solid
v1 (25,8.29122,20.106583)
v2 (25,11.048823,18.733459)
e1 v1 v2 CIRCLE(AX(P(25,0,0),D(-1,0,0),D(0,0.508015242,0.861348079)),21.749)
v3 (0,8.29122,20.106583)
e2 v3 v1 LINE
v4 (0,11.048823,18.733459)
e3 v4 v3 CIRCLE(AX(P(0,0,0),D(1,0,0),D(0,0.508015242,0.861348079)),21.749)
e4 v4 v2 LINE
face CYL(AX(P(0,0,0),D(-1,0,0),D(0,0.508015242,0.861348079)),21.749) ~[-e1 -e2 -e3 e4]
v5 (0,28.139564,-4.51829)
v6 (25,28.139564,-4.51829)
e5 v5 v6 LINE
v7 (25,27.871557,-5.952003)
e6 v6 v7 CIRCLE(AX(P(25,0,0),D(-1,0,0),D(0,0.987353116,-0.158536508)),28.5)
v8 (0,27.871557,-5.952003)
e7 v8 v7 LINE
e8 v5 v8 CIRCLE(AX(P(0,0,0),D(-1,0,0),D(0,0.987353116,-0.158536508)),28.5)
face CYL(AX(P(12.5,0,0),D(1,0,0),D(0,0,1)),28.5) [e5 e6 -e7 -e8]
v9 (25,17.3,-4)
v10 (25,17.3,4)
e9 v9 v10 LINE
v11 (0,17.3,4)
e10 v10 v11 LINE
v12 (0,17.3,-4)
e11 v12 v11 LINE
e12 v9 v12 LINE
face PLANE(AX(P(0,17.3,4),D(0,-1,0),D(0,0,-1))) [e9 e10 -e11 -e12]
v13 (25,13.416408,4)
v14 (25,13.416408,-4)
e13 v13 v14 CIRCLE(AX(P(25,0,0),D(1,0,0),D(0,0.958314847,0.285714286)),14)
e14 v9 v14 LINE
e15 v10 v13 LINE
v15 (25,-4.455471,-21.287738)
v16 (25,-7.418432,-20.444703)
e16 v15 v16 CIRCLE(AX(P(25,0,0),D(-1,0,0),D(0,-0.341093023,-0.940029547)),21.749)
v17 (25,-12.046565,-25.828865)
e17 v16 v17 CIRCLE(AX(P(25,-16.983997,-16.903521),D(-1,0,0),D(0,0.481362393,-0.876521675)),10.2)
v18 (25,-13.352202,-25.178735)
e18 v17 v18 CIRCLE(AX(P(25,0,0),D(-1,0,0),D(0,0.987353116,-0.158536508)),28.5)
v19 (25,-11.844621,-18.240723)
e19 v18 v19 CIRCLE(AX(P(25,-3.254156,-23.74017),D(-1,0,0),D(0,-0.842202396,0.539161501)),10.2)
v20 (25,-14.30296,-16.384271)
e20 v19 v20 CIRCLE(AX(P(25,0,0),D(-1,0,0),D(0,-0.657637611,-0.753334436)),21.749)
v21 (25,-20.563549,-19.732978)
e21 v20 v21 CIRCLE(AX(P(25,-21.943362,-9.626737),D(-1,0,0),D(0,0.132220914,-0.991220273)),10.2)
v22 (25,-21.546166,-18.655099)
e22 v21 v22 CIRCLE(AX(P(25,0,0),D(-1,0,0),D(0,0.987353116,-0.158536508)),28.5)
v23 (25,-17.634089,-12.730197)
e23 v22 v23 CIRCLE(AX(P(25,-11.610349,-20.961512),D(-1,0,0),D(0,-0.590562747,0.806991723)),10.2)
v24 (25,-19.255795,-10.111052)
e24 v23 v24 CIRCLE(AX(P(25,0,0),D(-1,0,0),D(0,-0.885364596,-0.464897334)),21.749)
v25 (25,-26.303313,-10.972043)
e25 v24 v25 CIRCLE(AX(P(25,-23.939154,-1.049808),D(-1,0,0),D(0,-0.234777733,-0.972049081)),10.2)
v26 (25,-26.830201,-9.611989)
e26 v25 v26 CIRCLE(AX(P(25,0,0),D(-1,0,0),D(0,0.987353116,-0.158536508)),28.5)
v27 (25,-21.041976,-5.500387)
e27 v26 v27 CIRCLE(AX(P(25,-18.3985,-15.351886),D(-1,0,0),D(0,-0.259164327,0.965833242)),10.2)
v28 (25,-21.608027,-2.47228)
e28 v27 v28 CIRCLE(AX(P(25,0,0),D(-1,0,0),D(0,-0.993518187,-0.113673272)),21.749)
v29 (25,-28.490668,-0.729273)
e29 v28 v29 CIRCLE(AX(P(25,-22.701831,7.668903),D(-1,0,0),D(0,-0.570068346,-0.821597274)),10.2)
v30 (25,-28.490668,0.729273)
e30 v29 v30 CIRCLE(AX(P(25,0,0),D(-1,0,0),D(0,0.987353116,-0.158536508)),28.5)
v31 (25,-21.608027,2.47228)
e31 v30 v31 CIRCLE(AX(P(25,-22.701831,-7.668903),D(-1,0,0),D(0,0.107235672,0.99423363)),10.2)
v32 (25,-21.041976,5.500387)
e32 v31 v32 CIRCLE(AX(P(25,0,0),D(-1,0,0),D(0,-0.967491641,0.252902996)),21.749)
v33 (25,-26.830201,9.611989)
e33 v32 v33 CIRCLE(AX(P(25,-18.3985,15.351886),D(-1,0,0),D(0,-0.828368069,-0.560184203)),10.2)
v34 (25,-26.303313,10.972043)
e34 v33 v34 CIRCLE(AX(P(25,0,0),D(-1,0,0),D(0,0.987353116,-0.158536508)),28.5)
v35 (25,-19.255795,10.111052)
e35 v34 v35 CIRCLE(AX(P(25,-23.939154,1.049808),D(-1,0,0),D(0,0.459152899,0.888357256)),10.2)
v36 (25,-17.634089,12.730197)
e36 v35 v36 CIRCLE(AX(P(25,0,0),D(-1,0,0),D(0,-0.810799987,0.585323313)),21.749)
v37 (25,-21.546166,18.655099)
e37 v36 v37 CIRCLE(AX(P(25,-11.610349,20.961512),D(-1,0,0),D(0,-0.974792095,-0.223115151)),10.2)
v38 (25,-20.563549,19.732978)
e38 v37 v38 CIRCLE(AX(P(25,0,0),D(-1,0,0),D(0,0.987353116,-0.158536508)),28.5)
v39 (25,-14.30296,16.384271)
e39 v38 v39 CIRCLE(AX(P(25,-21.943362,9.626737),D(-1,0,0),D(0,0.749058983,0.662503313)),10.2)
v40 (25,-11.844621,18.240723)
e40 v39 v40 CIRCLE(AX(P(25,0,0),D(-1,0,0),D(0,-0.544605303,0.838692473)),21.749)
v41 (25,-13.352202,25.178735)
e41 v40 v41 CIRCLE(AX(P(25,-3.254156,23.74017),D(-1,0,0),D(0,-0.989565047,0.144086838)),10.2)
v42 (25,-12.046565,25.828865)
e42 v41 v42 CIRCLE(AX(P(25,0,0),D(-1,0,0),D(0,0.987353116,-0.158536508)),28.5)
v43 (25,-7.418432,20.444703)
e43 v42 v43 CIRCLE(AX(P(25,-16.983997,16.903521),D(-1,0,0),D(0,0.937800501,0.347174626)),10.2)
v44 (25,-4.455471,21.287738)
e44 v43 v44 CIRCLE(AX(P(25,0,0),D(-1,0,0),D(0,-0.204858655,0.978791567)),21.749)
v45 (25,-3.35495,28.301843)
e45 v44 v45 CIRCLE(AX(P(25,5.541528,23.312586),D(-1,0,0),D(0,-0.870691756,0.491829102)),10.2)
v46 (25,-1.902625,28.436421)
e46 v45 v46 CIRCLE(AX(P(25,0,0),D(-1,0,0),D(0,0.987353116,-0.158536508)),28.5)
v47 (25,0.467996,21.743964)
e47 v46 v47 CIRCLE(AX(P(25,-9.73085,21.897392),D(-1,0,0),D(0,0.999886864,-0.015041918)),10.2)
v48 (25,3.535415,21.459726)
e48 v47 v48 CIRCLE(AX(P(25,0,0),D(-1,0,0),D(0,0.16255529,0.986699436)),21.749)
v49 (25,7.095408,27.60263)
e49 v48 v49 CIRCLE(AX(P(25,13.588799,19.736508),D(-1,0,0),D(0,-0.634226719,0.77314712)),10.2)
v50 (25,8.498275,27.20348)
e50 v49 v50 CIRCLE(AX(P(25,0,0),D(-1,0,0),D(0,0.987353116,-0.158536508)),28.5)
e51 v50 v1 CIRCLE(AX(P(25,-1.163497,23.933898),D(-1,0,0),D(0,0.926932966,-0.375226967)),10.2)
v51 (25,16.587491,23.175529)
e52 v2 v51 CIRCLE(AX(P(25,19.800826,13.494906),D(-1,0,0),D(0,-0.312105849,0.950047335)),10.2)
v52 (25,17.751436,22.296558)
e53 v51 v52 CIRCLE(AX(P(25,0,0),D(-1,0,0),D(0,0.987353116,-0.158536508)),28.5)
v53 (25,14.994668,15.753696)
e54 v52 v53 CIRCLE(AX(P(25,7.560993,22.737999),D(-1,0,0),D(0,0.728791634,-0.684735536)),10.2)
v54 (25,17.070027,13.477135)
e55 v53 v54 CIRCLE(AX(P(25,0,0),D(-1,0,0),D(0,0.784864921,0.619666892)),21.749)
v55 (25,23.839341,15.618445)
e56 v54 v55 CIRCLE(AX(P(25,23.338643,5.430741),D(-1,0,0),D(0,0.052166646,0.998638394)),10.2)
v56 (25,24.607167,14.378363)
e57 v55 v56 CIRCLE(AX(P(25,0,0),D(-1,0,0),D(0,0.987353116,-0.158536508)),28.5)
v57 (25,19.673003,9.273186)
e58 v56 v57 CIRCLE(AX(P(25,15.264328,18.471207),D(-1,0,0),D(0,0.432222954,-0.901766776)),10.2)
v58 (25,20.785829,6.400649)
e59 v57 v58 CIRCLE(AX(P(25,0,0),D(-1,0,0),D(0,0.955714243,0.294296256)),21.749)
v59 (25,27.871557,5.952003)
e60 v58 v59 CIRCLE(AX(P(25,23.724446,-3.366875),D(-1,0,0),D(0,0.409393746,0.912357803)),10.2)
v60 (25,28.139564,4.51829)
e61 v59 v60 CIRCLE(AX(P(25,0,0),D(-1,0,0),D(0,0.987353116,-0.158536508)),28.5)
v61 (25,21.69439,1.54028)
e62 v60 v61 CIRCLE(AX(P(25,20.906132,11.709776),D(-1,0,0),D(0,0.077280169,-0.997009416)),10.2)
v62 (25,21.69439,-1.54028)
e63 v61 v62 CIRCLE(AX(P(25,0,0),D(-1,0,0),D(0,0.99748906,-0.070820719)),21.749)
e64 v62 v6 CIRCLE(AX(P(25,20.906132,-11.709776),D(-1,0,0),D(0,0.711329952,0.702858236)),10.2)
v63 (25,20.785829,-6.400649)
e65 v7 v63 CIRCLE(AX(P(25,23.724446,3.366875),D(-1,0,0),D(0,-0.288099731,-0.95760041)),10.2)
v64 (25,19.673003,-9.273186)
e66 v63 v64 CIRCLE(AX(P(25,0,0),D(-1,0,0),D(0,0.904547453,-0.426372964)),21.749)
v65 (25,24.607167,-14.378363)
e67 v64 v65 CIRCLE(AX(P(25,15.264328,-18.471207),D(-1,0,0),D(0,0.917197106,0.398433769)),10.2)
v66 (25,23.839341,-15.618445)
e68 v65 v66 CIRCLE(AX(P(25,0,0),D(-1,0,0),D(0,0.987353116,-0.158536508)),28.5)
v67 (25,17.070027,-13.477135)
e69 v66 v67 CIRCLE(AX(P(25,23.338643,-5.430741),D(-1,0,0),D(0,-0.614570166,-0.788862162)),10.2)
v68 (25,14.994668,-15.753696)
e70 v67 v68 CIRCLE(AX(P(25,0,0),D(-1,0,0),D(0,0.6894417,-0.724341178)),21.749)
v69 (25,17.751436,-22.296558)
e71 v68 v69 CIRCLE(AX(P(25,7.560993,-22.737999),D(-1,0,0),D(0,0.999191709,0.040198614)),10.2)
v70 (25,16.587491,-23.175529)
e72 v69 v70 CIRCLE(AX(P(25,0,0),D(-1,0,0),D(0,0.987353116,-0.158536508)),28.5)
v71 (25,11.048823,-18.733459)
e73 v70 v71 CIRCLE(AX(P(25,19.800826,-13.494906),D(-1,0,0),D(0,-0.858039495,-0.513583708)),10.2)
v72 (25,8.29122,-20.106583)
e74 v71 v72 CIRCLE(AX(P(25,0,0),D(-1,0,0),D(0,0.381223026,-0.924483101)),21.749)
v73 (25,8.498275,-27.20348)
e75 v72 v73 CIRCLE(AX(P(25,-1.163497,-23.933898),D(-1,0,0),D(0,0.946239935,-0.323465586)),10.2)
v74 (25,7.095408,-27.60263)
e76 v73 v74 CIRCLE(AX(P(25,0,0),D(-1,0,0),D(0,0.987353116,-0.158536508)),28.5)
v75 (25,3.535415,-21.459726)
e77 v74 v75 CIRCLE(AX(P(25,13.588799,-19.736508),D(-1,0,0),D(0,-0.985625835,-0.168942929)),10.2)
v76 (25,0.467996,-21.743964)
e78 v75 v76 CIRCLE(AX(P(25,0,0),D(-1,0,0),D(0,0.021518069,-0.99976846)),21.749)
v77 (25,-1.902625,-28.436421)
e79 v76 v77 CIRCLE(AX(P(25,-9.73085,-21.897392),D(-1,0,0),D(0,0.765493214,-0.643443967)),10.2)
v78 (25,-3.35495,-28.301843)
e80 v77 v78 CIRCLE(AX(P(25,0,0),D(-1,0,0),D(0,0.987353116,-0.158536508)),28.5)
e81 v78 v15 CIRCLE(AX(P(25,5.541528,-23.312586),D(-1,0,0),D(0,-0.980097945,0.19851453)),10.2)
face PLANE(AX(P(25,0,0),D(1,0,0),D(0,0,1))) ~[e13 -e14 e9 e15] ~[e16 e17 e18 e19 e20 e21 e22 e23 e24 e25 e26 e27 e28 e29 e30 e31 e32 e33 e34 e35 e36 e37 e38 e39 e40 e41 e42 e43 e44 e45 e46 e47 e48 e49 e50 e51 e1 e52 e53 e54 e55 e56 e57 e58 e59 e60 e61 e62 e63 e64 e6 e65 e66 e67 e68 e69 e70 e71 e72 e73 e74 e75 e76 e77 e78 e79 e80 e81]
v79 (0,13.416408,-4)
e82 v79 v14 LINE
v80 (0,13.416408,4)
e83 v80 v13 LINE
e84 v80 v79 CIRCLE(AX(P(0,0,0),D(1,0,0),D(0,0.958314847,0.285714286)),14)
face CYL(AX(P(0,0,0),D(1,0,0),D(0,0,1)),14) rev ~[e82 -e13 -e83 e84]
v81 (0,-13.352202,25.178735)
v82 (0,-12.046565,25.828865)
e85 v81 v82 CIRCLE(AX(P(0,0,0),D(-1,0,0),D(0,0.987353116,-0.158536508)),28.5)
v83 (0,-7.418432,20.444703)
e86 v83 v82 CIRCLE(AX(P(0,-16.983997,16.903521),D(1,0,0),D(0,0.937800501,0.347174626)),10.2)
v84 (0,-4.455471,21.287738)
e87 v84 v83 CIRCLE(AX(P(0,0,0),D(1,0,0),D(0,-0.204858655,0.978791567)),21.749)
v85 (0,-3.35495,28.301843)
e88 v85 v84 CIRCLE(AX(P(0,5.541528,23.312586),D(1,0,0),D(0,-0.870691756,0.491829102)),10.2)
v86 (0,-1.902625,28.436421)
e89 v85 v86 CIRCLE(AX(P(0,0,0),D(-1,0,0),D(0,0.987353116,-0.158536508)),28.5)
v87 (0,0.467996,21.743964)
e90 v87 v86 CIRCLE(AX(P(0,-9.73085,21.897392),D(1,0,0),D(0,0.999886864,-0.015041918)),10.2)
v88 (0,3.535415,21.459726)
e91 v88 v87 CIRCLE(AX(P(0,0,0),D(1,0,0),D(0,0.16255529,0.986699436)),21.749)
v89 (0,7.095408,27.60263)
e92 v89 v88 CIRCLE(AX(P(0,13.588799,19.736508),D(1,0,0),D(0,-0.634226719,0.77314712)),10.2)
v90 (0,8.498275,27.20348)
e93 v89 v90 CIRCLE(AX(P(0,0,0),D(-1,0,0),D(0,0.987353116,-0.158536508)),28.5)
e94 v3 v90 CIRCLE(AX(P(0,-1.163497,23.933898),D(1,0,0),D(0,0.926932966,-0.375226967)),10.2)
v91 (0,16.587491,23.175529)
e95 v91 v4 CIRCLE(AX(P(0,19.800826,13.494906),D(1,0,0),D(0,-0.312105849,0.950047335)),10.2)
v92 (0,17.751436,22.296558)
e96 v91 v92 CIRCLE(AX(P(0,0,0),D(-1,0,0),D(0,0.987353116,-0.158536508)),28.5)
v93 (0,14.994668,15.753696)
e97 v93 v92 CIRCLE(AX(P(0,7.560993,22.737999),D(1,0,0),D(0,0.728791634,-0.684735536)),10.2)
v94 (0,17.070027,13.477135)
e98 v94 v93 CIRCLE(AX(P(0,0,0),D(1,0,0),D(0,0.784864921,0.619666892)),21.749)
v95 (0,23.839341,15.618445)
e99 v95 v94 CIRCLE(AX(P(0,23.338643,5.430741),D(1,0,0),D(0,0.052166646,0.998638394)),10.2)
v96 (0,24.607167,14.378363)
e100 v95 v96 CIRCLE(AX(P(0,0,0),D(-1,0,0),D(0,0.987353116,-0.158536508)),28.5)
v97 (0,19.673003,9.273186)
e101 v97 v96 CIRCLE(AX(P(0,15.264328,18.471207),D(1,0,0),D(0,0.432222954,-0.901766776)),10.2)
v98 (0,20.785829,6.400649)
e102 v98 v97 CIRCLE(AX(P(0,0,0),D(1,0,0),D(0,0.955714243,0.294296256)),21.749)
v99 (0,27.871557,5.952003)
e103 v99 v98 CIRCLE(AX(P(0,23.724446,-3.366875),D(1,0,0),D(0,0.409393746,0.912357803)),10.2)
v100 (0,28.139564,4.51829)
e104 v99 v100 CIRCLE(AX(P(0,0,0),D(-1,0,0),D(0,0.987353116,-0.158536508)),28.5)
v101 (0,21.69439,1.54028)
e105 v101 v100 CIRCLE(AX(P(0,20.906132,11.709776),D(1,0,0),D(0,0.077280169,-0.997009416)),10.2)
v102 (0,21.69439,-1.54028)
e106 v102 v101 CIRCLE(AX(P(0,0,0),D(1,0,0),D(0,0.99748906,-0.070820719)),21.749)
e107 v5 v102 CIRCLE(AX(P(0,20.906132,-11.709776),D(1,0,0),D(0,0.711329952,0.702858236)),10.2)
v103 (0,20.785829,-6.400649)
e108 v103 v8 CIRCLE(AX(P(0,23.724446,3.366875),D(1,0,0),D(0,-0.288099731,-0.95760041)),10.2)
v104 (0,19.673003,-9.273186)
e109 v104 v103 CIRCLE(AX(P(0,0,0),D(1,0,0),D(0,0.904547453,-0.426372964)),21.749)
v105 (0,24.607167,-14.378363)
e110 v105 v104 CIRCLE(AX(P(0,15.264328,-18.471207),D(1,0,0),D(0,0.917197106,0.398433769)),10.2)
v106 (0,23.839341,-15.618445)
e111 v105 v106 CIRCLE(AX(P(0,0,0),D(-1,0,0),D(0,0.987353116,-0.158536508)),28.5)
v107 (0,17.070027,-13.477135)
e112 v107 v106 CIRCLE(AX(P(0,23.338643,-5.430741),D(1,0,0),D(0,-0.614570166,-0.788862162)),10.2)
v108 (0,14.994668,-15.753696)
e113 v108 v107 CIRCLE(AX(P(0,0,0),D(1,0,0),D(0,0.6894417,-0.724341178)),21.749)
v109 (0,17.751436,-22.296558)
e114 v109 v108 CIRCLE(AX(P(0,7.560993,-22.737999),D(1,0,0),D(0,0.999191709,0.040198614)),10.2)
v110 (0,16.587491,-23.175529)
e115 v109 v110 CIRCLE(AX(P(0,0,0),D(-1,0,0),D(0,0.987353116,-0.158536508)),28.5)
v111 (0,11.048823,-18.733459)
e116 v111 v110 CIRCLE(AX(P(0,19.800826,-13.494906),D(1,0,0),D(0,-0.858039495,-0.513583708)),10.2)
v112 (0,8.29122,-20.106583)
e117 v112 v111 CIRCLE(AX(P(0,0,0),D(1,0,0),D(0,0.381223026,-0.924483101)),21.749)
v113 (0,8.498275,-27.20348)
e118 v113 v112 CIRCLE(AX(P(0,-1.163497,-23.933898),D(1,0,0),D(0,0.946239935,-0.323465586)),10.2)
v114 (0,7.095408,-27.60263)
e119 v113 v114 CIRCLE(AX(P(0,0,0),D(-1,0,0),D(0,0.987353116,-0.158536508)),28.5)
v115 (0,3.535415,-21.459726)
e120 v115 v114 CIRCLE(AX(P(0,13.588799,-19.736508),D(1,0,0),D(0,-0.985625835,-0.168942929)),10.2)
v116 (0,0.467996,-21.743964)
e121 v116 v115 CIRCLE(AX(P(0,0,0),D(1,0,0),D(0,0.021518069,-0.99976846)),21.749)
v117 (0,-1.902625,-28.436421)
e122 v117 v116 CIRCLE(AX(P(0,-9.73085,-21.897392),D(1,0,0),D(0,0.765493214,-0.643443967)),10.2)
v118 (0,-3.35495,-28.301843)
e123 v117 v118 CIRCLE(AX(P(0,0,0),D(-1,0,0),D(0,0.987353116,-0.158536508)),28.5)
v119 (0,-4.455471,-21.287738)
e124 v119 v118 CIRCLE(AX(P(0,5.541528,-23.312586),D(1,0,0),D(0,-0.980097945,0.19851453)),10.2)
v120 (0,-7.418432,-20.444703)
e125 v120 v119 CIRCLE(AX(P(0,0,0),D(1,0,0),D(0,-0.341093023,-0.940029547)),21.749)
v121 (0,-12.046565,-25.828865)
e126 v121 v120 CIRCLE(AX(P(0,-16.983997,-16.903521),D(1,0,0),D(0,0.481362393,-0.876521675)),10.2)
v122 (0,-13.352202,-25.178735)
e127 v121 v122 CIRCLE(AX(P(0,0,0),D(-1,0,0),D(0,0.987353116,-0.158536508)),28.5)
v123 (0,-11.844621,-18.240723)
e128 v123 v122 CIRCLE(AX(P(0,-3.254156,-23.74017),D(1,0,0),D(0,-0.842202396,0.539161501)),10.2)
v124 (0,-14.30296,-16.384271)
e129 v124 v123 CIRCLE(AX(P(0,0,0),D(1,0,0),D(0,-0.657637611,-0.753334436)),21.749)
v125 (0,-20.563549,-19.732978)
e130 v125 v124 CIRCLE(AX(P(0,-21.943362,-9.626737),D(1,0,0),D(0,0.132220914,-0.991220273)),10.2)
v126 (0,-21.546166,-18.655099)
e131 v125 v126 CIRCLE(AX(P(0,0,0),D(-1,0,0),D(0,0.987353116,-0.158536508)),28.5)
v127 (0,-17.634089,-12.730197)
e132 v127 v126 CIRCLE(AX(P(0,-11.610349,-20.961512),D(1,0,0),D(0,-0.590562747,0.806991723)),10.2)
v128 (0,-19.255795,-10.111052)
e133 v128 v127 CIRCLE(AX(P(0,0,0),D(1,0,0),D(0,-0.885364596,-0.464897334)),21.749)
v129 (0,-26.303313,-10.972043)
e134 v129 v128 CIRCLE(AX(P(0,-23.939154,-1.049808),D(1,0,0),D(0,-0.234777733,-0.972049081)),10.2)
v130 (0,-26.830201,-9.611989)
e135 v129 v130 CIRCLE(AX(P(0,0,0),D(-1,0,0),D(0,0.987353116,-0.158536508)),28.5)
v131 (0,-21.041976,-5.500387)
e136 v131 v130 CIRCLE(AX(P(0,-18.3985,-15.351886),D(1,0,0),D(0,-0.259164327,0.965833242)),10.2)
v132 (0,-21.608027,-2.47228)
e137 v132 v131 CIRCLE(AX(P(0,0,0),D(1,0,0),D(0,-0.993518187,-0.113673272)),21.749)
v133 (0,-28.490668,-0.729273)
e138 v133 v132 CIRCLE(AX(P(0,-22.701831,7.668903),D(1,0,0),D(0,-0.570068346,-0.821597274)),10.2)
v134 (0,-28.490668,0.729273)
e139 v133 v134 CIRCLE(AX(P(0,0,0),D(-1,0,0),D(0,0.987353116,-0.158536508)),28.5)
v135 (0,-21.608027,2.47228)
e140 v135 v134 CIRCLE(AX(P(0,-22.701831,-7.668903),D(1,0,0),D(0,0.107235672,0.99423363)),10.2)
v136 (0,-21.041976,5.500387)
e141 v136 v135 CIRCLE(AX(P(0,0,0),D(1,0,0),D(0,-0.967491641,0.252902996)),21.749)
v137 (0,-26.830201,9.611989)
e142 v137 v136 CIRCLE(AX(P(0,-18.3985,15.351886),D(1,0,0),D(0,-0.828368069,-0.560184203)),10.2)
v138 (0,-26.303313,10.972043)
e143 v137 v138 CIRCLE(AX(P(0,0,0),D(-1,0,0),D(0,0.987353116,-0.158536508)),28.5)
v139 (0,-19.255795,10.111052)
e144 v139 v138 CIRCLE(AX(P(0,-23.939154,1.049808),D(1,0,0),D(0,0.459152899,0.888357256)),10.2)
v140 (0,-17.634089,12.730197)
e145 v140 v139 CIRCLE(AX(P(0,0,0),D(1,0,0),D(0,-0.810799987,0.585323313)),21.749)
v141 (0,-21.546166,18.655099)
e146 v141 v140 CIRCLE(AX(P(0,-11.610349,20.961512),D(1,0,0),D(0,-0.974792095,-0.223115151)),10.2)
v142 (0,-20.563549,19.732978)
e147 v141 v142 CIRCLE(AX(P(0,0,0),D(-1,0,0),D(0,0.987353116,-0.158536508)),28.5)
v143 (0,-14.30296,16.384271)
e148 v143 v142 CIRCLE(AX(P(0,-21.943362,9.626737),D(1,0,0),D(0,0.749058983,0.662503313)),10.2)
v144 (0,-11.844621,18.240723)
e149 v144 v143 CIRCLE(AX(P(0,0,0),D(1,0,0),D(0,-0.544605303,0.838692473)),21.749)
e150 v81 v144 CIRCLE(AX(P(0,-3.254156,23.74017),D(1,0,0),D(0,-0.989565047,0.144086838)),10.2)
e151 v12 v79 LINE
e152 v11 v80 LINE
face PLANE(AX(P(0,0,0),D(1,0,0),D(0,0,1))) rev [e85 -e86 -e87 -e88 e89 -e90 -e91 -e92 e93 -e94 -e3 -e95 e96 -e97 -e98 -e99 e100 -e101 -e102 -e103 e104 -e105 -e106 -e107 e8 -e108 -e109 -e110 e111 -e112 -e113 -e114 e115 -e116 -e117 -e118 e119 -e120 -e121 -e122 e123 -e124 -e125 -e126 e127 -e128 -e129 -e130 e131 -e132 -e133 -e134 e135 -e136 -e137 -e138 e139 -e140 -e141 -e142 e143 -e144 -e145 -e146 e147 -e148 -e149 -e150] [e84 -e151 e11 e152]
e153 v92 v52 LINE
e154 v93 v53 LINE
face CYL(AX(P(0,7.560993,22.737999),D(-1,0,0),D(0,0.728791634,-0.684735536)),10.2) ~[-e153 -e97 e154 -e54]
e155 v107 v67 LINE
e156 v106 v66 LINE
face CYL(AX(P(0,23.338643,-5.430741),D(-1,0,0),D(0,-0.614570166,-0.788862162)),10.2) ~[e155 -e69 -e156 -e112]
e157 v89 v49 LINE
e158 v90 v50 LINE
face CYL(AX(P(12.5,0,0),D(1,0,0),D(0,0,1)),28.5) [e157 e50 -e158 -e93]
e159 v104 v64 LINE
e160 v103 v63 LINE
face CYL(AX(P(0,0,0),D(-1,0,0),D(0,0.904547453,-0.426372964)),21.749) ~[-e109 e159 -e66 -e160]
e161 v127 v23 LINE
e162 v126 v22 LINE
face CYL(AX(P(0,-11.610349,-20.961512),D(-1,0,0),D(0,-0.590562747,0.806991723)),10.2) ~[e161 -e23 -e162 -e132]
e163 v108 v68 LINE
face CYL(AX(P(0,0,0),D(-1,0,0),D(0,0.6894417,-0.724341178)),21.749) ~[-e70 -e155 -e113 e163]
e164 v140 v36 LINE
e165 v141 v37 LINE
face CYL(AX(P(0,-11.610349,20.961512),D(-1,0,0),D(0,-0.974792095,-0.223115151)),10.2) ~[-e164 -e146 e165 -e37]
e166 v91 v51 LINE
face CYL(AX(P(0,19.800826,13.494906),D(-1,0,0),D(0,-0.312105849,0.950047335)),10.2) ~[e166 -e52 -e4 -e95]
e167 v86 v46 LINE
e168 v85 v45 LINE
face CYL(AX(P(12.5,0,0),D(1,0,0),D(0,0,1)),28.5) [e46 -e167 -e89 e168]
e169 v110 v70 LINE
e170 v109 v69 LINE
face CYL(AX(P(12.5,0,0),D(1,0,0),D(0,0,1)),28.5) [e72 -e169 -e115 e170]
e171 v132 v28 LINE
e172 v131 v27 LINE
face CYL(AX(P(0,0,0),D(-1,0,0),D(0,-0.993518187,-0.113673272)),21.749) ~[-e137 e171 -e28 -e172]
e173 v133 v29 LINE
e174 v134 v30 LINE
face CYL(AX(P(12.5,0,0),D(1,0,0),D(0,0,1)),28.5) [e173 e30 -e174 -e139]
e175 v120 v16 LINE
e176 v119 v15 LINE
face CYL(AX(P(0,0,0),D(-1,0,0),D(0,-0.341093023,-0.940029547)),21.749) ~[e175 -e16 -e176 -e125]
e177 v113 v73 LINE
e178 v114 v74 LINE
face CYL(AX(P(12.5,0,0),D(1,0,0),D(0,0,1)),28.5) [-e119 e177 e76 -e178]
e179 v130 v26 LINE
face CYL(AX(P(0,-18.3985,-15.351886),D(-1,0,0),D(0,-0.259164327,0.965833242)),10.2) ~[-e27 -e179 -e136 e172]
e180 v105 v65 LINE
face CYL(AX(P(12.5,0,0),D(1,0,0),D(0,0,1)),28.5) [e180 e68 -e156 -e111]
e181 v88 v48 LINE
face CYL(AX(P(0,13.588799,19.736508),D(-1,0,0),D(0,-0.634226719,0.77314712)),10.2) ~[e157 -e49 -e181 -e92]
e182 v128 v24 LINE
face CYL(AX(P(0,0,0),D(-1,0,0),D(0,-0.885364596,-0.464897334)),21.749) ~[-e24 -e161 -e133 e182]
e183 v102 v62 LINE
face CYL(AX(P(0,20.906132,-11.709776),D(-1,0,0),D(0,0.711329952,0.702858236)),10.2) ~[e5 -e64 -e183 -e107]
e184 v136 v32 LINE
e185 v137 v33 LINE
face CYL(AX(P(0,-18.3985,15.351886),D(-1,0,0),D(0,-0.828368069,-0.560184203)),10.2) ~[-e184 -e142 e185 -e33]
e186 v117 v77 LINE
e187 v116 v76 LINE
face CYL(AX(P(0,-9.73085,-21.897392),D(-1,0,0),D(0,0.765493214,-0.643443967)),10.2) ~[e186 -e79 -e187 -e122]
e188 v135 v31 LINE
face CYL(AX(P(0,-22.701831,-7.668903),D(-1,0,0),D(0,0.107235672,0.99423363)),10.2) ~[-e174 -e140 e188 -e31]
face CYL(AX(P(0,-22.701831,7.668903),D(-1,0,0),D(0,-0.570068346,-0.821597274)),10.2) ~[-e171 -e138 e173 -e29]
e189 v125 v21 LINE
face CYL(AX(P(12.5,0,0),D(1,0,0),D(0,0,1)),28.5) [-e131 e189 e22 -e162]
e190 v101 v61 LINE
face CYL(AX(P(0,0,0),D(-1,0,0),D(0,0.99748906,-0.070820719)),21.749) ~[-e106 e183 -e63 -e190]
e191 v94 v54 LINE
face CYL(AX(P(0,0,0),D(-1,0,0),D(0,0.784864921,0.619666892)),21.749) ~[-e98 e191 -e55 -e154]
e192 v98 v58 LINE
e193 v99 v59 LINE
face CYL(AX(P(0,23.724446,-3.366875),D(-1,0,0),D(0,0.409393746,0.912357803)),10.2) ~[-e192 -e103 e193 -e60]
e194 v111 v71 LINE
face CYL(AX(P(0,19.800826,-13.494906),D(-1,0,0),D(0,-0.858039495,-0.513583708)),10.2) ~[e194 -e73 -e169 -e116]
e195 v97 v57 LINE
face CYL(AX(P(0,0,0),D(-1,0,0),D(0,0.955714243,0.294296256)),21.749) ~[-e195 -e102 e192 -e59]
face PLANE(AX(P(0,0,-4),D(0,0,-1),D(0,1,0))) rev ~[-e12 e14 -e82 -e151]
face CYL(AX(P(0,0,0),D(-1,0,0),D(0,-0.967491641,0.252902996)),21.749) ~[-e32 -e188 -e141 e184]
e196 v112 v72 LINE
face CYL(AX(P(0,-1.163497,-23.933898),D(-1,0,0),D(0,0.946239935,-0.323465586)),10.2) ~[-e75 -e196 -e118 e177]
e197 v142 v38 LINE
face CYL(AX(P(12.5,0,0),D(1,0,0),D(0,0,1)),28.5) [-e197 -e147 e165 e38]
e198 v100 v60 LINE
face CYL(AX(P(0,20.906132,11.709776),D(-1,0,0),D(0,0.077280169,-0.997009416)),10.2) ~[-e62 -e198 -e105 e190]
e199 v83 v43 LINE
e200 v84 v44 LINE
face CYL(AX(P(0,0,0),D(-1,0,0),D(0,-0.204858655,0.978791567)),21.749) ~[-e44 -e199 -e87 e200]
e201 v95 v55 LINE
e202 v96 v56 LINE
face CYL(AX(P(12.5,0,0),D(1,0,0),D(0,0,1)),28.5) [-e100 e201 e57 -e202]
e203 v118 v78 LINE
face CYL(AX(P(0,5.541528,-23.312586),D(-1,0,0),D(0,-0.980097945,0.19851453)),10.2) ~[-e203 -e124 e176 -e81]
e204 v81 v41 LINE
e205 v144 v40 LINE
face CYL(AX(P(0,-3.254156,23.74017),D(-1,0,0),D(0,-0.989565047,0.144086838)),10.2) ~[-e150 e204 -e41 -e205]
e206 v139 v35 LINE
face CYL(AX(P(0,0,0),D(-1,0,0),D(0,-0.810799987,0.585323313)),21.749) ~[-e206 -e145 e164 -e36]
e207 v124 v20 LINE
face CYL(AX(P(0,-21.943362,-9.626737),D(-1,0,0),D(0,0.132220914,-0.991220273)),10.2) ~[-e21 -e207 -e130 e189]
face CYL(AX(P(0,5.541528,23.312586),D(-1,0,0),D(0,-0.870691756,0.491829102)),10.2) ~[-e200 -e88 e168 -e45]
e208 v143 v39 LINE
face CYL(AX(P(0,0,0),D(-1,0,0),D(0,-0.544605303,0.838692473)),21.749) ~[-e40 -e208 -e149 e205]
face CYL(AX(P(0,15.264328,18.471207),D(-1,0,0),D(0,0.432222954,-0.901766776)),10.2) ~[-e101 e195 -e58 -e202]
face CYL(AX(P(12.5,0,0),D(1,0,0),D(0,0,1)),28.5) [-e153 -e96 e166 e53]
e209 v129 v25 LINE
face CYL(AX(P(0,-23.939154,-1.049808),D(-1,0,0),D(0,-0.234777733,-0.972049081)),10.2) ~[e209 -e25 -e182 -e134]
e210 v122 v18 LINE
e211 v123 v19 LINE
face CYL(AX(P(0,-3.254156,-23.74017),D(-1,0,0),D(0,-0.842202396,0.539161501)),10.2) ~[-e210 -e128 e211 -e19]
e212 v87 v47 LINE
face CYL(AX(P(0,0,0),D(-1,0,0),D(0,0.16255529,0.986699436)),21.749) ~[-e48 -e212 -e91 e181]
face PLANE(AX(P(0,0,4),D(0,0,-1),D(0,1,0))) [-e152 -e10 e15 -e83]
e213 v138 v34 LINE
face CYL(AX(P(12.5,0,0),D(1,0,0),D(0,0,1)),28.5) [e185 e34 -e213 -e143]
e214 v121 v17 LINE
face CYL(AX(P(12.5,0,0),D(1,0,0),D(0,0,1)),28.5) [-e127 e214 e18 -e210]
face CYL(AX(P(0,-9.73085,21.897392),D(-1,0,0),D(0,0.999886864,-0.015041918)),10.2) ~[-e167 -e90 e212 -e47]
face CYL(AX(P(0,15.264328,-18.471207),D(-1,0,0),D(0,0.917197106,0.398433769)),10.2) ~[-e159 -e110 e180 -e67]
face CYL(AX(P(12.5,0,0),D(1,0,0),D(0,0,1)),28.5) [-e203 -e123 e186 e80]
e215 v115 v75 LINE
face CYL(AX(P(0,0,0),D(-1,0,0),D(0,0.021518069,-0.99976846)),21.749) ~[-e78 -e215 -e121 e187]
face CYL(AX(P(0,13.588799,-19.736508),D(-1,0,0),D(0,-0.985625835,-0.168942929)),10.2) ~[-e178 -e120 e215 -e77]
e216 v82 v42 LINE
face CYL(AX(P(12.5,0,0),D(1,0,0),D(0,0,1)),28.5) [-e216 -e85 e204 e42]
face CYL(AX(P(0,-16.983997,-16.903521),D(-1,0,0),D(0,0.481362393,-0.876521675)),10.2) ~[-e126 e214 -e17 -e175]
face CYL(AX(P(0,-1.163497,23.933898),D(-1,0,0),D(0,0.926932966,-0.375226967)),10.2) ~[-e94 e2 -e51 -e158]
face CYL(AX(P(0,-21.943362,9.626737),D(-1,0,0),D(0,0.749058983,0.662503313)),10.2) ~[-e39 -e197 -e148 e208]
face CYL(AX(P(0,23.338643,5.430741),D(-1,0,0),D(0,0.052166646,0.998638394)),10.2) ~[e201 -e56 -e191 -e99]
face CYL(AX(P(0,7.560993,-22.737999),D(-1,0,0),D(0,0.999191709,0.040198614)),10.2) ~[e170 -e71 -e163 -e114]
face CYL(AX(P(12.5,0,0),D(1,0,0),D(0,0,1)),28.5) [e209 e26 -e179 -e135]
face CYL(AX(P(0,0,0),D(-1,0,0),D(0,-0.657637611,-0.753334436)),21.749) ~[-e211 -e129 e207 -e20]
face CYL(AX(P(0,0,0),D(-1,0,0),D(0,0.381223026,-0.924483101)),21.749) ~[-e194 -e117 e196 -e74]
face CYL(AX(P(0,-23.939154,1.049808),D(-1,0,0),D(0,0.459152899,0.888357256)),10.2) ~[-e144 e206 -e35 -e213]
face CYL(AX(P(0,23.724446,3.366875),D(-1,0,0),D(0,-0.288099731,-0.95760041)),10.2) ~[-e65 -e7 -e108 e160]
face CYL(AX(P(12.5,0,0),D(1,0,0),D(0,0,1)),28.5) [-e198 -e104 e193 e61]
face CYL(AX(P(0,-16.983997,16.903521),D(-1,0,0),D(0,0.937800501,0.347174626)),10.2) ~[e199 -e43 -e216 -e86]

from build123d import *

# Parameters (mm, degrees)
BASPROSKE_W     = 25
BASPROSKE_H     = 28.5
TOOTHCUT_DEPTH  = 48.428894147
TEETHCUTS_COUNT = 17
TEETHCUTS_ANGLE = 338.823529412
BORSKE_R        = 14
BORE_DEPTH      = 50.0000508
KEYSKE_W        = 8
KEYSKE_H        = 17.3
KEYWAY_DEPTH    = 50.0000508


with BuildPart() as part:
    # BasProSke → Base-Revolve (revolve)
    with BuildSketch(Plane(origin=(0, 0, 0), x_dir=(1, 0, 0), z_dir=(0, 1, 0)), mode=Mode.PRIVATE) as base_revolve_sk:
        with Locations((12.5, 14.25)):
            Rectangle(BASPROSKE_W, BASPROSKE_H)
    revolve(base_revolve_sk.sketch.rotate(Axis((-10, 0, 0), (1, 0, 0)), 180), axis=Axis((-10, 0, 0), (1, 0, 0)))

    # TooCutSke → ToothCut (cut, through all)
    with BuildSketch(Plane(origin=(0, 0, 0), x_dir=(0, 0, -1), z_dir=(1, 0, 0))):
        with BuildLine():
            ThreePointArc((1.540279816, 21.694389576), (0, 21.749), (-1.540279816, 21.694389576))
            ThreePointArc((-1.540279816, 21.694389576), (-2.457007956, 25.198716871), (-4.540621854, 28.161697363))
            ThreePointArc((-4.540621854, 28.161697363), (0, 28.5254), (4.540621854, 28.161697363))
            ThreePointArc((4.540621854, 28.161697363), (2.457007956, 25.198716871), (1.540279816, 21.694389576))
        make_face()
    toothcut = extrude(amount=TOOTHCUT_DEPTH, mode=Mode.SUBTRACT)

    # TeethCuts: ToothCut ×17 about axis
    teethcuts_axis = Axis((-10, 0, 0), (1, 0, 0))
    for i in range(1, TEETHCUTS_COUNT):
        add(toothcut.rotate(teethcuts_axis, i * TEETHCUTS_ANGLE / (TEETHCUTS_COUNT - 1)), mode=Mode.SUBTRACT)

    # BorSke → Bore (cut, symmetric)
    with BuildSketch(Plane(origin=(0, 0, 0), x_dir=(0, 0, -1), z_dir=(1, 0, 0))):
        with Locations(Location((0, 0, 0), (0, 0, 180))):
            Circle(BORSKE_R)
    extrude(amount=BORE_DEPTH, both=True, mode=Mode.SUBTRACT)

    # KeySke → Keyway (cut, symmetric)
    with BuildSketch(Plane(origin=(0, 0, 0), x_dir=(0, 0, -1), z_dir=(1, 0, 0))):
        with Locations((0, 8.65)):
            Rectangle(KEYSKE_W, KEYSKE_H)
    extrude(amount=KEYWAY_DEPTH, both=True, mode=Mode.SUBTRACT)


solid = part.part
